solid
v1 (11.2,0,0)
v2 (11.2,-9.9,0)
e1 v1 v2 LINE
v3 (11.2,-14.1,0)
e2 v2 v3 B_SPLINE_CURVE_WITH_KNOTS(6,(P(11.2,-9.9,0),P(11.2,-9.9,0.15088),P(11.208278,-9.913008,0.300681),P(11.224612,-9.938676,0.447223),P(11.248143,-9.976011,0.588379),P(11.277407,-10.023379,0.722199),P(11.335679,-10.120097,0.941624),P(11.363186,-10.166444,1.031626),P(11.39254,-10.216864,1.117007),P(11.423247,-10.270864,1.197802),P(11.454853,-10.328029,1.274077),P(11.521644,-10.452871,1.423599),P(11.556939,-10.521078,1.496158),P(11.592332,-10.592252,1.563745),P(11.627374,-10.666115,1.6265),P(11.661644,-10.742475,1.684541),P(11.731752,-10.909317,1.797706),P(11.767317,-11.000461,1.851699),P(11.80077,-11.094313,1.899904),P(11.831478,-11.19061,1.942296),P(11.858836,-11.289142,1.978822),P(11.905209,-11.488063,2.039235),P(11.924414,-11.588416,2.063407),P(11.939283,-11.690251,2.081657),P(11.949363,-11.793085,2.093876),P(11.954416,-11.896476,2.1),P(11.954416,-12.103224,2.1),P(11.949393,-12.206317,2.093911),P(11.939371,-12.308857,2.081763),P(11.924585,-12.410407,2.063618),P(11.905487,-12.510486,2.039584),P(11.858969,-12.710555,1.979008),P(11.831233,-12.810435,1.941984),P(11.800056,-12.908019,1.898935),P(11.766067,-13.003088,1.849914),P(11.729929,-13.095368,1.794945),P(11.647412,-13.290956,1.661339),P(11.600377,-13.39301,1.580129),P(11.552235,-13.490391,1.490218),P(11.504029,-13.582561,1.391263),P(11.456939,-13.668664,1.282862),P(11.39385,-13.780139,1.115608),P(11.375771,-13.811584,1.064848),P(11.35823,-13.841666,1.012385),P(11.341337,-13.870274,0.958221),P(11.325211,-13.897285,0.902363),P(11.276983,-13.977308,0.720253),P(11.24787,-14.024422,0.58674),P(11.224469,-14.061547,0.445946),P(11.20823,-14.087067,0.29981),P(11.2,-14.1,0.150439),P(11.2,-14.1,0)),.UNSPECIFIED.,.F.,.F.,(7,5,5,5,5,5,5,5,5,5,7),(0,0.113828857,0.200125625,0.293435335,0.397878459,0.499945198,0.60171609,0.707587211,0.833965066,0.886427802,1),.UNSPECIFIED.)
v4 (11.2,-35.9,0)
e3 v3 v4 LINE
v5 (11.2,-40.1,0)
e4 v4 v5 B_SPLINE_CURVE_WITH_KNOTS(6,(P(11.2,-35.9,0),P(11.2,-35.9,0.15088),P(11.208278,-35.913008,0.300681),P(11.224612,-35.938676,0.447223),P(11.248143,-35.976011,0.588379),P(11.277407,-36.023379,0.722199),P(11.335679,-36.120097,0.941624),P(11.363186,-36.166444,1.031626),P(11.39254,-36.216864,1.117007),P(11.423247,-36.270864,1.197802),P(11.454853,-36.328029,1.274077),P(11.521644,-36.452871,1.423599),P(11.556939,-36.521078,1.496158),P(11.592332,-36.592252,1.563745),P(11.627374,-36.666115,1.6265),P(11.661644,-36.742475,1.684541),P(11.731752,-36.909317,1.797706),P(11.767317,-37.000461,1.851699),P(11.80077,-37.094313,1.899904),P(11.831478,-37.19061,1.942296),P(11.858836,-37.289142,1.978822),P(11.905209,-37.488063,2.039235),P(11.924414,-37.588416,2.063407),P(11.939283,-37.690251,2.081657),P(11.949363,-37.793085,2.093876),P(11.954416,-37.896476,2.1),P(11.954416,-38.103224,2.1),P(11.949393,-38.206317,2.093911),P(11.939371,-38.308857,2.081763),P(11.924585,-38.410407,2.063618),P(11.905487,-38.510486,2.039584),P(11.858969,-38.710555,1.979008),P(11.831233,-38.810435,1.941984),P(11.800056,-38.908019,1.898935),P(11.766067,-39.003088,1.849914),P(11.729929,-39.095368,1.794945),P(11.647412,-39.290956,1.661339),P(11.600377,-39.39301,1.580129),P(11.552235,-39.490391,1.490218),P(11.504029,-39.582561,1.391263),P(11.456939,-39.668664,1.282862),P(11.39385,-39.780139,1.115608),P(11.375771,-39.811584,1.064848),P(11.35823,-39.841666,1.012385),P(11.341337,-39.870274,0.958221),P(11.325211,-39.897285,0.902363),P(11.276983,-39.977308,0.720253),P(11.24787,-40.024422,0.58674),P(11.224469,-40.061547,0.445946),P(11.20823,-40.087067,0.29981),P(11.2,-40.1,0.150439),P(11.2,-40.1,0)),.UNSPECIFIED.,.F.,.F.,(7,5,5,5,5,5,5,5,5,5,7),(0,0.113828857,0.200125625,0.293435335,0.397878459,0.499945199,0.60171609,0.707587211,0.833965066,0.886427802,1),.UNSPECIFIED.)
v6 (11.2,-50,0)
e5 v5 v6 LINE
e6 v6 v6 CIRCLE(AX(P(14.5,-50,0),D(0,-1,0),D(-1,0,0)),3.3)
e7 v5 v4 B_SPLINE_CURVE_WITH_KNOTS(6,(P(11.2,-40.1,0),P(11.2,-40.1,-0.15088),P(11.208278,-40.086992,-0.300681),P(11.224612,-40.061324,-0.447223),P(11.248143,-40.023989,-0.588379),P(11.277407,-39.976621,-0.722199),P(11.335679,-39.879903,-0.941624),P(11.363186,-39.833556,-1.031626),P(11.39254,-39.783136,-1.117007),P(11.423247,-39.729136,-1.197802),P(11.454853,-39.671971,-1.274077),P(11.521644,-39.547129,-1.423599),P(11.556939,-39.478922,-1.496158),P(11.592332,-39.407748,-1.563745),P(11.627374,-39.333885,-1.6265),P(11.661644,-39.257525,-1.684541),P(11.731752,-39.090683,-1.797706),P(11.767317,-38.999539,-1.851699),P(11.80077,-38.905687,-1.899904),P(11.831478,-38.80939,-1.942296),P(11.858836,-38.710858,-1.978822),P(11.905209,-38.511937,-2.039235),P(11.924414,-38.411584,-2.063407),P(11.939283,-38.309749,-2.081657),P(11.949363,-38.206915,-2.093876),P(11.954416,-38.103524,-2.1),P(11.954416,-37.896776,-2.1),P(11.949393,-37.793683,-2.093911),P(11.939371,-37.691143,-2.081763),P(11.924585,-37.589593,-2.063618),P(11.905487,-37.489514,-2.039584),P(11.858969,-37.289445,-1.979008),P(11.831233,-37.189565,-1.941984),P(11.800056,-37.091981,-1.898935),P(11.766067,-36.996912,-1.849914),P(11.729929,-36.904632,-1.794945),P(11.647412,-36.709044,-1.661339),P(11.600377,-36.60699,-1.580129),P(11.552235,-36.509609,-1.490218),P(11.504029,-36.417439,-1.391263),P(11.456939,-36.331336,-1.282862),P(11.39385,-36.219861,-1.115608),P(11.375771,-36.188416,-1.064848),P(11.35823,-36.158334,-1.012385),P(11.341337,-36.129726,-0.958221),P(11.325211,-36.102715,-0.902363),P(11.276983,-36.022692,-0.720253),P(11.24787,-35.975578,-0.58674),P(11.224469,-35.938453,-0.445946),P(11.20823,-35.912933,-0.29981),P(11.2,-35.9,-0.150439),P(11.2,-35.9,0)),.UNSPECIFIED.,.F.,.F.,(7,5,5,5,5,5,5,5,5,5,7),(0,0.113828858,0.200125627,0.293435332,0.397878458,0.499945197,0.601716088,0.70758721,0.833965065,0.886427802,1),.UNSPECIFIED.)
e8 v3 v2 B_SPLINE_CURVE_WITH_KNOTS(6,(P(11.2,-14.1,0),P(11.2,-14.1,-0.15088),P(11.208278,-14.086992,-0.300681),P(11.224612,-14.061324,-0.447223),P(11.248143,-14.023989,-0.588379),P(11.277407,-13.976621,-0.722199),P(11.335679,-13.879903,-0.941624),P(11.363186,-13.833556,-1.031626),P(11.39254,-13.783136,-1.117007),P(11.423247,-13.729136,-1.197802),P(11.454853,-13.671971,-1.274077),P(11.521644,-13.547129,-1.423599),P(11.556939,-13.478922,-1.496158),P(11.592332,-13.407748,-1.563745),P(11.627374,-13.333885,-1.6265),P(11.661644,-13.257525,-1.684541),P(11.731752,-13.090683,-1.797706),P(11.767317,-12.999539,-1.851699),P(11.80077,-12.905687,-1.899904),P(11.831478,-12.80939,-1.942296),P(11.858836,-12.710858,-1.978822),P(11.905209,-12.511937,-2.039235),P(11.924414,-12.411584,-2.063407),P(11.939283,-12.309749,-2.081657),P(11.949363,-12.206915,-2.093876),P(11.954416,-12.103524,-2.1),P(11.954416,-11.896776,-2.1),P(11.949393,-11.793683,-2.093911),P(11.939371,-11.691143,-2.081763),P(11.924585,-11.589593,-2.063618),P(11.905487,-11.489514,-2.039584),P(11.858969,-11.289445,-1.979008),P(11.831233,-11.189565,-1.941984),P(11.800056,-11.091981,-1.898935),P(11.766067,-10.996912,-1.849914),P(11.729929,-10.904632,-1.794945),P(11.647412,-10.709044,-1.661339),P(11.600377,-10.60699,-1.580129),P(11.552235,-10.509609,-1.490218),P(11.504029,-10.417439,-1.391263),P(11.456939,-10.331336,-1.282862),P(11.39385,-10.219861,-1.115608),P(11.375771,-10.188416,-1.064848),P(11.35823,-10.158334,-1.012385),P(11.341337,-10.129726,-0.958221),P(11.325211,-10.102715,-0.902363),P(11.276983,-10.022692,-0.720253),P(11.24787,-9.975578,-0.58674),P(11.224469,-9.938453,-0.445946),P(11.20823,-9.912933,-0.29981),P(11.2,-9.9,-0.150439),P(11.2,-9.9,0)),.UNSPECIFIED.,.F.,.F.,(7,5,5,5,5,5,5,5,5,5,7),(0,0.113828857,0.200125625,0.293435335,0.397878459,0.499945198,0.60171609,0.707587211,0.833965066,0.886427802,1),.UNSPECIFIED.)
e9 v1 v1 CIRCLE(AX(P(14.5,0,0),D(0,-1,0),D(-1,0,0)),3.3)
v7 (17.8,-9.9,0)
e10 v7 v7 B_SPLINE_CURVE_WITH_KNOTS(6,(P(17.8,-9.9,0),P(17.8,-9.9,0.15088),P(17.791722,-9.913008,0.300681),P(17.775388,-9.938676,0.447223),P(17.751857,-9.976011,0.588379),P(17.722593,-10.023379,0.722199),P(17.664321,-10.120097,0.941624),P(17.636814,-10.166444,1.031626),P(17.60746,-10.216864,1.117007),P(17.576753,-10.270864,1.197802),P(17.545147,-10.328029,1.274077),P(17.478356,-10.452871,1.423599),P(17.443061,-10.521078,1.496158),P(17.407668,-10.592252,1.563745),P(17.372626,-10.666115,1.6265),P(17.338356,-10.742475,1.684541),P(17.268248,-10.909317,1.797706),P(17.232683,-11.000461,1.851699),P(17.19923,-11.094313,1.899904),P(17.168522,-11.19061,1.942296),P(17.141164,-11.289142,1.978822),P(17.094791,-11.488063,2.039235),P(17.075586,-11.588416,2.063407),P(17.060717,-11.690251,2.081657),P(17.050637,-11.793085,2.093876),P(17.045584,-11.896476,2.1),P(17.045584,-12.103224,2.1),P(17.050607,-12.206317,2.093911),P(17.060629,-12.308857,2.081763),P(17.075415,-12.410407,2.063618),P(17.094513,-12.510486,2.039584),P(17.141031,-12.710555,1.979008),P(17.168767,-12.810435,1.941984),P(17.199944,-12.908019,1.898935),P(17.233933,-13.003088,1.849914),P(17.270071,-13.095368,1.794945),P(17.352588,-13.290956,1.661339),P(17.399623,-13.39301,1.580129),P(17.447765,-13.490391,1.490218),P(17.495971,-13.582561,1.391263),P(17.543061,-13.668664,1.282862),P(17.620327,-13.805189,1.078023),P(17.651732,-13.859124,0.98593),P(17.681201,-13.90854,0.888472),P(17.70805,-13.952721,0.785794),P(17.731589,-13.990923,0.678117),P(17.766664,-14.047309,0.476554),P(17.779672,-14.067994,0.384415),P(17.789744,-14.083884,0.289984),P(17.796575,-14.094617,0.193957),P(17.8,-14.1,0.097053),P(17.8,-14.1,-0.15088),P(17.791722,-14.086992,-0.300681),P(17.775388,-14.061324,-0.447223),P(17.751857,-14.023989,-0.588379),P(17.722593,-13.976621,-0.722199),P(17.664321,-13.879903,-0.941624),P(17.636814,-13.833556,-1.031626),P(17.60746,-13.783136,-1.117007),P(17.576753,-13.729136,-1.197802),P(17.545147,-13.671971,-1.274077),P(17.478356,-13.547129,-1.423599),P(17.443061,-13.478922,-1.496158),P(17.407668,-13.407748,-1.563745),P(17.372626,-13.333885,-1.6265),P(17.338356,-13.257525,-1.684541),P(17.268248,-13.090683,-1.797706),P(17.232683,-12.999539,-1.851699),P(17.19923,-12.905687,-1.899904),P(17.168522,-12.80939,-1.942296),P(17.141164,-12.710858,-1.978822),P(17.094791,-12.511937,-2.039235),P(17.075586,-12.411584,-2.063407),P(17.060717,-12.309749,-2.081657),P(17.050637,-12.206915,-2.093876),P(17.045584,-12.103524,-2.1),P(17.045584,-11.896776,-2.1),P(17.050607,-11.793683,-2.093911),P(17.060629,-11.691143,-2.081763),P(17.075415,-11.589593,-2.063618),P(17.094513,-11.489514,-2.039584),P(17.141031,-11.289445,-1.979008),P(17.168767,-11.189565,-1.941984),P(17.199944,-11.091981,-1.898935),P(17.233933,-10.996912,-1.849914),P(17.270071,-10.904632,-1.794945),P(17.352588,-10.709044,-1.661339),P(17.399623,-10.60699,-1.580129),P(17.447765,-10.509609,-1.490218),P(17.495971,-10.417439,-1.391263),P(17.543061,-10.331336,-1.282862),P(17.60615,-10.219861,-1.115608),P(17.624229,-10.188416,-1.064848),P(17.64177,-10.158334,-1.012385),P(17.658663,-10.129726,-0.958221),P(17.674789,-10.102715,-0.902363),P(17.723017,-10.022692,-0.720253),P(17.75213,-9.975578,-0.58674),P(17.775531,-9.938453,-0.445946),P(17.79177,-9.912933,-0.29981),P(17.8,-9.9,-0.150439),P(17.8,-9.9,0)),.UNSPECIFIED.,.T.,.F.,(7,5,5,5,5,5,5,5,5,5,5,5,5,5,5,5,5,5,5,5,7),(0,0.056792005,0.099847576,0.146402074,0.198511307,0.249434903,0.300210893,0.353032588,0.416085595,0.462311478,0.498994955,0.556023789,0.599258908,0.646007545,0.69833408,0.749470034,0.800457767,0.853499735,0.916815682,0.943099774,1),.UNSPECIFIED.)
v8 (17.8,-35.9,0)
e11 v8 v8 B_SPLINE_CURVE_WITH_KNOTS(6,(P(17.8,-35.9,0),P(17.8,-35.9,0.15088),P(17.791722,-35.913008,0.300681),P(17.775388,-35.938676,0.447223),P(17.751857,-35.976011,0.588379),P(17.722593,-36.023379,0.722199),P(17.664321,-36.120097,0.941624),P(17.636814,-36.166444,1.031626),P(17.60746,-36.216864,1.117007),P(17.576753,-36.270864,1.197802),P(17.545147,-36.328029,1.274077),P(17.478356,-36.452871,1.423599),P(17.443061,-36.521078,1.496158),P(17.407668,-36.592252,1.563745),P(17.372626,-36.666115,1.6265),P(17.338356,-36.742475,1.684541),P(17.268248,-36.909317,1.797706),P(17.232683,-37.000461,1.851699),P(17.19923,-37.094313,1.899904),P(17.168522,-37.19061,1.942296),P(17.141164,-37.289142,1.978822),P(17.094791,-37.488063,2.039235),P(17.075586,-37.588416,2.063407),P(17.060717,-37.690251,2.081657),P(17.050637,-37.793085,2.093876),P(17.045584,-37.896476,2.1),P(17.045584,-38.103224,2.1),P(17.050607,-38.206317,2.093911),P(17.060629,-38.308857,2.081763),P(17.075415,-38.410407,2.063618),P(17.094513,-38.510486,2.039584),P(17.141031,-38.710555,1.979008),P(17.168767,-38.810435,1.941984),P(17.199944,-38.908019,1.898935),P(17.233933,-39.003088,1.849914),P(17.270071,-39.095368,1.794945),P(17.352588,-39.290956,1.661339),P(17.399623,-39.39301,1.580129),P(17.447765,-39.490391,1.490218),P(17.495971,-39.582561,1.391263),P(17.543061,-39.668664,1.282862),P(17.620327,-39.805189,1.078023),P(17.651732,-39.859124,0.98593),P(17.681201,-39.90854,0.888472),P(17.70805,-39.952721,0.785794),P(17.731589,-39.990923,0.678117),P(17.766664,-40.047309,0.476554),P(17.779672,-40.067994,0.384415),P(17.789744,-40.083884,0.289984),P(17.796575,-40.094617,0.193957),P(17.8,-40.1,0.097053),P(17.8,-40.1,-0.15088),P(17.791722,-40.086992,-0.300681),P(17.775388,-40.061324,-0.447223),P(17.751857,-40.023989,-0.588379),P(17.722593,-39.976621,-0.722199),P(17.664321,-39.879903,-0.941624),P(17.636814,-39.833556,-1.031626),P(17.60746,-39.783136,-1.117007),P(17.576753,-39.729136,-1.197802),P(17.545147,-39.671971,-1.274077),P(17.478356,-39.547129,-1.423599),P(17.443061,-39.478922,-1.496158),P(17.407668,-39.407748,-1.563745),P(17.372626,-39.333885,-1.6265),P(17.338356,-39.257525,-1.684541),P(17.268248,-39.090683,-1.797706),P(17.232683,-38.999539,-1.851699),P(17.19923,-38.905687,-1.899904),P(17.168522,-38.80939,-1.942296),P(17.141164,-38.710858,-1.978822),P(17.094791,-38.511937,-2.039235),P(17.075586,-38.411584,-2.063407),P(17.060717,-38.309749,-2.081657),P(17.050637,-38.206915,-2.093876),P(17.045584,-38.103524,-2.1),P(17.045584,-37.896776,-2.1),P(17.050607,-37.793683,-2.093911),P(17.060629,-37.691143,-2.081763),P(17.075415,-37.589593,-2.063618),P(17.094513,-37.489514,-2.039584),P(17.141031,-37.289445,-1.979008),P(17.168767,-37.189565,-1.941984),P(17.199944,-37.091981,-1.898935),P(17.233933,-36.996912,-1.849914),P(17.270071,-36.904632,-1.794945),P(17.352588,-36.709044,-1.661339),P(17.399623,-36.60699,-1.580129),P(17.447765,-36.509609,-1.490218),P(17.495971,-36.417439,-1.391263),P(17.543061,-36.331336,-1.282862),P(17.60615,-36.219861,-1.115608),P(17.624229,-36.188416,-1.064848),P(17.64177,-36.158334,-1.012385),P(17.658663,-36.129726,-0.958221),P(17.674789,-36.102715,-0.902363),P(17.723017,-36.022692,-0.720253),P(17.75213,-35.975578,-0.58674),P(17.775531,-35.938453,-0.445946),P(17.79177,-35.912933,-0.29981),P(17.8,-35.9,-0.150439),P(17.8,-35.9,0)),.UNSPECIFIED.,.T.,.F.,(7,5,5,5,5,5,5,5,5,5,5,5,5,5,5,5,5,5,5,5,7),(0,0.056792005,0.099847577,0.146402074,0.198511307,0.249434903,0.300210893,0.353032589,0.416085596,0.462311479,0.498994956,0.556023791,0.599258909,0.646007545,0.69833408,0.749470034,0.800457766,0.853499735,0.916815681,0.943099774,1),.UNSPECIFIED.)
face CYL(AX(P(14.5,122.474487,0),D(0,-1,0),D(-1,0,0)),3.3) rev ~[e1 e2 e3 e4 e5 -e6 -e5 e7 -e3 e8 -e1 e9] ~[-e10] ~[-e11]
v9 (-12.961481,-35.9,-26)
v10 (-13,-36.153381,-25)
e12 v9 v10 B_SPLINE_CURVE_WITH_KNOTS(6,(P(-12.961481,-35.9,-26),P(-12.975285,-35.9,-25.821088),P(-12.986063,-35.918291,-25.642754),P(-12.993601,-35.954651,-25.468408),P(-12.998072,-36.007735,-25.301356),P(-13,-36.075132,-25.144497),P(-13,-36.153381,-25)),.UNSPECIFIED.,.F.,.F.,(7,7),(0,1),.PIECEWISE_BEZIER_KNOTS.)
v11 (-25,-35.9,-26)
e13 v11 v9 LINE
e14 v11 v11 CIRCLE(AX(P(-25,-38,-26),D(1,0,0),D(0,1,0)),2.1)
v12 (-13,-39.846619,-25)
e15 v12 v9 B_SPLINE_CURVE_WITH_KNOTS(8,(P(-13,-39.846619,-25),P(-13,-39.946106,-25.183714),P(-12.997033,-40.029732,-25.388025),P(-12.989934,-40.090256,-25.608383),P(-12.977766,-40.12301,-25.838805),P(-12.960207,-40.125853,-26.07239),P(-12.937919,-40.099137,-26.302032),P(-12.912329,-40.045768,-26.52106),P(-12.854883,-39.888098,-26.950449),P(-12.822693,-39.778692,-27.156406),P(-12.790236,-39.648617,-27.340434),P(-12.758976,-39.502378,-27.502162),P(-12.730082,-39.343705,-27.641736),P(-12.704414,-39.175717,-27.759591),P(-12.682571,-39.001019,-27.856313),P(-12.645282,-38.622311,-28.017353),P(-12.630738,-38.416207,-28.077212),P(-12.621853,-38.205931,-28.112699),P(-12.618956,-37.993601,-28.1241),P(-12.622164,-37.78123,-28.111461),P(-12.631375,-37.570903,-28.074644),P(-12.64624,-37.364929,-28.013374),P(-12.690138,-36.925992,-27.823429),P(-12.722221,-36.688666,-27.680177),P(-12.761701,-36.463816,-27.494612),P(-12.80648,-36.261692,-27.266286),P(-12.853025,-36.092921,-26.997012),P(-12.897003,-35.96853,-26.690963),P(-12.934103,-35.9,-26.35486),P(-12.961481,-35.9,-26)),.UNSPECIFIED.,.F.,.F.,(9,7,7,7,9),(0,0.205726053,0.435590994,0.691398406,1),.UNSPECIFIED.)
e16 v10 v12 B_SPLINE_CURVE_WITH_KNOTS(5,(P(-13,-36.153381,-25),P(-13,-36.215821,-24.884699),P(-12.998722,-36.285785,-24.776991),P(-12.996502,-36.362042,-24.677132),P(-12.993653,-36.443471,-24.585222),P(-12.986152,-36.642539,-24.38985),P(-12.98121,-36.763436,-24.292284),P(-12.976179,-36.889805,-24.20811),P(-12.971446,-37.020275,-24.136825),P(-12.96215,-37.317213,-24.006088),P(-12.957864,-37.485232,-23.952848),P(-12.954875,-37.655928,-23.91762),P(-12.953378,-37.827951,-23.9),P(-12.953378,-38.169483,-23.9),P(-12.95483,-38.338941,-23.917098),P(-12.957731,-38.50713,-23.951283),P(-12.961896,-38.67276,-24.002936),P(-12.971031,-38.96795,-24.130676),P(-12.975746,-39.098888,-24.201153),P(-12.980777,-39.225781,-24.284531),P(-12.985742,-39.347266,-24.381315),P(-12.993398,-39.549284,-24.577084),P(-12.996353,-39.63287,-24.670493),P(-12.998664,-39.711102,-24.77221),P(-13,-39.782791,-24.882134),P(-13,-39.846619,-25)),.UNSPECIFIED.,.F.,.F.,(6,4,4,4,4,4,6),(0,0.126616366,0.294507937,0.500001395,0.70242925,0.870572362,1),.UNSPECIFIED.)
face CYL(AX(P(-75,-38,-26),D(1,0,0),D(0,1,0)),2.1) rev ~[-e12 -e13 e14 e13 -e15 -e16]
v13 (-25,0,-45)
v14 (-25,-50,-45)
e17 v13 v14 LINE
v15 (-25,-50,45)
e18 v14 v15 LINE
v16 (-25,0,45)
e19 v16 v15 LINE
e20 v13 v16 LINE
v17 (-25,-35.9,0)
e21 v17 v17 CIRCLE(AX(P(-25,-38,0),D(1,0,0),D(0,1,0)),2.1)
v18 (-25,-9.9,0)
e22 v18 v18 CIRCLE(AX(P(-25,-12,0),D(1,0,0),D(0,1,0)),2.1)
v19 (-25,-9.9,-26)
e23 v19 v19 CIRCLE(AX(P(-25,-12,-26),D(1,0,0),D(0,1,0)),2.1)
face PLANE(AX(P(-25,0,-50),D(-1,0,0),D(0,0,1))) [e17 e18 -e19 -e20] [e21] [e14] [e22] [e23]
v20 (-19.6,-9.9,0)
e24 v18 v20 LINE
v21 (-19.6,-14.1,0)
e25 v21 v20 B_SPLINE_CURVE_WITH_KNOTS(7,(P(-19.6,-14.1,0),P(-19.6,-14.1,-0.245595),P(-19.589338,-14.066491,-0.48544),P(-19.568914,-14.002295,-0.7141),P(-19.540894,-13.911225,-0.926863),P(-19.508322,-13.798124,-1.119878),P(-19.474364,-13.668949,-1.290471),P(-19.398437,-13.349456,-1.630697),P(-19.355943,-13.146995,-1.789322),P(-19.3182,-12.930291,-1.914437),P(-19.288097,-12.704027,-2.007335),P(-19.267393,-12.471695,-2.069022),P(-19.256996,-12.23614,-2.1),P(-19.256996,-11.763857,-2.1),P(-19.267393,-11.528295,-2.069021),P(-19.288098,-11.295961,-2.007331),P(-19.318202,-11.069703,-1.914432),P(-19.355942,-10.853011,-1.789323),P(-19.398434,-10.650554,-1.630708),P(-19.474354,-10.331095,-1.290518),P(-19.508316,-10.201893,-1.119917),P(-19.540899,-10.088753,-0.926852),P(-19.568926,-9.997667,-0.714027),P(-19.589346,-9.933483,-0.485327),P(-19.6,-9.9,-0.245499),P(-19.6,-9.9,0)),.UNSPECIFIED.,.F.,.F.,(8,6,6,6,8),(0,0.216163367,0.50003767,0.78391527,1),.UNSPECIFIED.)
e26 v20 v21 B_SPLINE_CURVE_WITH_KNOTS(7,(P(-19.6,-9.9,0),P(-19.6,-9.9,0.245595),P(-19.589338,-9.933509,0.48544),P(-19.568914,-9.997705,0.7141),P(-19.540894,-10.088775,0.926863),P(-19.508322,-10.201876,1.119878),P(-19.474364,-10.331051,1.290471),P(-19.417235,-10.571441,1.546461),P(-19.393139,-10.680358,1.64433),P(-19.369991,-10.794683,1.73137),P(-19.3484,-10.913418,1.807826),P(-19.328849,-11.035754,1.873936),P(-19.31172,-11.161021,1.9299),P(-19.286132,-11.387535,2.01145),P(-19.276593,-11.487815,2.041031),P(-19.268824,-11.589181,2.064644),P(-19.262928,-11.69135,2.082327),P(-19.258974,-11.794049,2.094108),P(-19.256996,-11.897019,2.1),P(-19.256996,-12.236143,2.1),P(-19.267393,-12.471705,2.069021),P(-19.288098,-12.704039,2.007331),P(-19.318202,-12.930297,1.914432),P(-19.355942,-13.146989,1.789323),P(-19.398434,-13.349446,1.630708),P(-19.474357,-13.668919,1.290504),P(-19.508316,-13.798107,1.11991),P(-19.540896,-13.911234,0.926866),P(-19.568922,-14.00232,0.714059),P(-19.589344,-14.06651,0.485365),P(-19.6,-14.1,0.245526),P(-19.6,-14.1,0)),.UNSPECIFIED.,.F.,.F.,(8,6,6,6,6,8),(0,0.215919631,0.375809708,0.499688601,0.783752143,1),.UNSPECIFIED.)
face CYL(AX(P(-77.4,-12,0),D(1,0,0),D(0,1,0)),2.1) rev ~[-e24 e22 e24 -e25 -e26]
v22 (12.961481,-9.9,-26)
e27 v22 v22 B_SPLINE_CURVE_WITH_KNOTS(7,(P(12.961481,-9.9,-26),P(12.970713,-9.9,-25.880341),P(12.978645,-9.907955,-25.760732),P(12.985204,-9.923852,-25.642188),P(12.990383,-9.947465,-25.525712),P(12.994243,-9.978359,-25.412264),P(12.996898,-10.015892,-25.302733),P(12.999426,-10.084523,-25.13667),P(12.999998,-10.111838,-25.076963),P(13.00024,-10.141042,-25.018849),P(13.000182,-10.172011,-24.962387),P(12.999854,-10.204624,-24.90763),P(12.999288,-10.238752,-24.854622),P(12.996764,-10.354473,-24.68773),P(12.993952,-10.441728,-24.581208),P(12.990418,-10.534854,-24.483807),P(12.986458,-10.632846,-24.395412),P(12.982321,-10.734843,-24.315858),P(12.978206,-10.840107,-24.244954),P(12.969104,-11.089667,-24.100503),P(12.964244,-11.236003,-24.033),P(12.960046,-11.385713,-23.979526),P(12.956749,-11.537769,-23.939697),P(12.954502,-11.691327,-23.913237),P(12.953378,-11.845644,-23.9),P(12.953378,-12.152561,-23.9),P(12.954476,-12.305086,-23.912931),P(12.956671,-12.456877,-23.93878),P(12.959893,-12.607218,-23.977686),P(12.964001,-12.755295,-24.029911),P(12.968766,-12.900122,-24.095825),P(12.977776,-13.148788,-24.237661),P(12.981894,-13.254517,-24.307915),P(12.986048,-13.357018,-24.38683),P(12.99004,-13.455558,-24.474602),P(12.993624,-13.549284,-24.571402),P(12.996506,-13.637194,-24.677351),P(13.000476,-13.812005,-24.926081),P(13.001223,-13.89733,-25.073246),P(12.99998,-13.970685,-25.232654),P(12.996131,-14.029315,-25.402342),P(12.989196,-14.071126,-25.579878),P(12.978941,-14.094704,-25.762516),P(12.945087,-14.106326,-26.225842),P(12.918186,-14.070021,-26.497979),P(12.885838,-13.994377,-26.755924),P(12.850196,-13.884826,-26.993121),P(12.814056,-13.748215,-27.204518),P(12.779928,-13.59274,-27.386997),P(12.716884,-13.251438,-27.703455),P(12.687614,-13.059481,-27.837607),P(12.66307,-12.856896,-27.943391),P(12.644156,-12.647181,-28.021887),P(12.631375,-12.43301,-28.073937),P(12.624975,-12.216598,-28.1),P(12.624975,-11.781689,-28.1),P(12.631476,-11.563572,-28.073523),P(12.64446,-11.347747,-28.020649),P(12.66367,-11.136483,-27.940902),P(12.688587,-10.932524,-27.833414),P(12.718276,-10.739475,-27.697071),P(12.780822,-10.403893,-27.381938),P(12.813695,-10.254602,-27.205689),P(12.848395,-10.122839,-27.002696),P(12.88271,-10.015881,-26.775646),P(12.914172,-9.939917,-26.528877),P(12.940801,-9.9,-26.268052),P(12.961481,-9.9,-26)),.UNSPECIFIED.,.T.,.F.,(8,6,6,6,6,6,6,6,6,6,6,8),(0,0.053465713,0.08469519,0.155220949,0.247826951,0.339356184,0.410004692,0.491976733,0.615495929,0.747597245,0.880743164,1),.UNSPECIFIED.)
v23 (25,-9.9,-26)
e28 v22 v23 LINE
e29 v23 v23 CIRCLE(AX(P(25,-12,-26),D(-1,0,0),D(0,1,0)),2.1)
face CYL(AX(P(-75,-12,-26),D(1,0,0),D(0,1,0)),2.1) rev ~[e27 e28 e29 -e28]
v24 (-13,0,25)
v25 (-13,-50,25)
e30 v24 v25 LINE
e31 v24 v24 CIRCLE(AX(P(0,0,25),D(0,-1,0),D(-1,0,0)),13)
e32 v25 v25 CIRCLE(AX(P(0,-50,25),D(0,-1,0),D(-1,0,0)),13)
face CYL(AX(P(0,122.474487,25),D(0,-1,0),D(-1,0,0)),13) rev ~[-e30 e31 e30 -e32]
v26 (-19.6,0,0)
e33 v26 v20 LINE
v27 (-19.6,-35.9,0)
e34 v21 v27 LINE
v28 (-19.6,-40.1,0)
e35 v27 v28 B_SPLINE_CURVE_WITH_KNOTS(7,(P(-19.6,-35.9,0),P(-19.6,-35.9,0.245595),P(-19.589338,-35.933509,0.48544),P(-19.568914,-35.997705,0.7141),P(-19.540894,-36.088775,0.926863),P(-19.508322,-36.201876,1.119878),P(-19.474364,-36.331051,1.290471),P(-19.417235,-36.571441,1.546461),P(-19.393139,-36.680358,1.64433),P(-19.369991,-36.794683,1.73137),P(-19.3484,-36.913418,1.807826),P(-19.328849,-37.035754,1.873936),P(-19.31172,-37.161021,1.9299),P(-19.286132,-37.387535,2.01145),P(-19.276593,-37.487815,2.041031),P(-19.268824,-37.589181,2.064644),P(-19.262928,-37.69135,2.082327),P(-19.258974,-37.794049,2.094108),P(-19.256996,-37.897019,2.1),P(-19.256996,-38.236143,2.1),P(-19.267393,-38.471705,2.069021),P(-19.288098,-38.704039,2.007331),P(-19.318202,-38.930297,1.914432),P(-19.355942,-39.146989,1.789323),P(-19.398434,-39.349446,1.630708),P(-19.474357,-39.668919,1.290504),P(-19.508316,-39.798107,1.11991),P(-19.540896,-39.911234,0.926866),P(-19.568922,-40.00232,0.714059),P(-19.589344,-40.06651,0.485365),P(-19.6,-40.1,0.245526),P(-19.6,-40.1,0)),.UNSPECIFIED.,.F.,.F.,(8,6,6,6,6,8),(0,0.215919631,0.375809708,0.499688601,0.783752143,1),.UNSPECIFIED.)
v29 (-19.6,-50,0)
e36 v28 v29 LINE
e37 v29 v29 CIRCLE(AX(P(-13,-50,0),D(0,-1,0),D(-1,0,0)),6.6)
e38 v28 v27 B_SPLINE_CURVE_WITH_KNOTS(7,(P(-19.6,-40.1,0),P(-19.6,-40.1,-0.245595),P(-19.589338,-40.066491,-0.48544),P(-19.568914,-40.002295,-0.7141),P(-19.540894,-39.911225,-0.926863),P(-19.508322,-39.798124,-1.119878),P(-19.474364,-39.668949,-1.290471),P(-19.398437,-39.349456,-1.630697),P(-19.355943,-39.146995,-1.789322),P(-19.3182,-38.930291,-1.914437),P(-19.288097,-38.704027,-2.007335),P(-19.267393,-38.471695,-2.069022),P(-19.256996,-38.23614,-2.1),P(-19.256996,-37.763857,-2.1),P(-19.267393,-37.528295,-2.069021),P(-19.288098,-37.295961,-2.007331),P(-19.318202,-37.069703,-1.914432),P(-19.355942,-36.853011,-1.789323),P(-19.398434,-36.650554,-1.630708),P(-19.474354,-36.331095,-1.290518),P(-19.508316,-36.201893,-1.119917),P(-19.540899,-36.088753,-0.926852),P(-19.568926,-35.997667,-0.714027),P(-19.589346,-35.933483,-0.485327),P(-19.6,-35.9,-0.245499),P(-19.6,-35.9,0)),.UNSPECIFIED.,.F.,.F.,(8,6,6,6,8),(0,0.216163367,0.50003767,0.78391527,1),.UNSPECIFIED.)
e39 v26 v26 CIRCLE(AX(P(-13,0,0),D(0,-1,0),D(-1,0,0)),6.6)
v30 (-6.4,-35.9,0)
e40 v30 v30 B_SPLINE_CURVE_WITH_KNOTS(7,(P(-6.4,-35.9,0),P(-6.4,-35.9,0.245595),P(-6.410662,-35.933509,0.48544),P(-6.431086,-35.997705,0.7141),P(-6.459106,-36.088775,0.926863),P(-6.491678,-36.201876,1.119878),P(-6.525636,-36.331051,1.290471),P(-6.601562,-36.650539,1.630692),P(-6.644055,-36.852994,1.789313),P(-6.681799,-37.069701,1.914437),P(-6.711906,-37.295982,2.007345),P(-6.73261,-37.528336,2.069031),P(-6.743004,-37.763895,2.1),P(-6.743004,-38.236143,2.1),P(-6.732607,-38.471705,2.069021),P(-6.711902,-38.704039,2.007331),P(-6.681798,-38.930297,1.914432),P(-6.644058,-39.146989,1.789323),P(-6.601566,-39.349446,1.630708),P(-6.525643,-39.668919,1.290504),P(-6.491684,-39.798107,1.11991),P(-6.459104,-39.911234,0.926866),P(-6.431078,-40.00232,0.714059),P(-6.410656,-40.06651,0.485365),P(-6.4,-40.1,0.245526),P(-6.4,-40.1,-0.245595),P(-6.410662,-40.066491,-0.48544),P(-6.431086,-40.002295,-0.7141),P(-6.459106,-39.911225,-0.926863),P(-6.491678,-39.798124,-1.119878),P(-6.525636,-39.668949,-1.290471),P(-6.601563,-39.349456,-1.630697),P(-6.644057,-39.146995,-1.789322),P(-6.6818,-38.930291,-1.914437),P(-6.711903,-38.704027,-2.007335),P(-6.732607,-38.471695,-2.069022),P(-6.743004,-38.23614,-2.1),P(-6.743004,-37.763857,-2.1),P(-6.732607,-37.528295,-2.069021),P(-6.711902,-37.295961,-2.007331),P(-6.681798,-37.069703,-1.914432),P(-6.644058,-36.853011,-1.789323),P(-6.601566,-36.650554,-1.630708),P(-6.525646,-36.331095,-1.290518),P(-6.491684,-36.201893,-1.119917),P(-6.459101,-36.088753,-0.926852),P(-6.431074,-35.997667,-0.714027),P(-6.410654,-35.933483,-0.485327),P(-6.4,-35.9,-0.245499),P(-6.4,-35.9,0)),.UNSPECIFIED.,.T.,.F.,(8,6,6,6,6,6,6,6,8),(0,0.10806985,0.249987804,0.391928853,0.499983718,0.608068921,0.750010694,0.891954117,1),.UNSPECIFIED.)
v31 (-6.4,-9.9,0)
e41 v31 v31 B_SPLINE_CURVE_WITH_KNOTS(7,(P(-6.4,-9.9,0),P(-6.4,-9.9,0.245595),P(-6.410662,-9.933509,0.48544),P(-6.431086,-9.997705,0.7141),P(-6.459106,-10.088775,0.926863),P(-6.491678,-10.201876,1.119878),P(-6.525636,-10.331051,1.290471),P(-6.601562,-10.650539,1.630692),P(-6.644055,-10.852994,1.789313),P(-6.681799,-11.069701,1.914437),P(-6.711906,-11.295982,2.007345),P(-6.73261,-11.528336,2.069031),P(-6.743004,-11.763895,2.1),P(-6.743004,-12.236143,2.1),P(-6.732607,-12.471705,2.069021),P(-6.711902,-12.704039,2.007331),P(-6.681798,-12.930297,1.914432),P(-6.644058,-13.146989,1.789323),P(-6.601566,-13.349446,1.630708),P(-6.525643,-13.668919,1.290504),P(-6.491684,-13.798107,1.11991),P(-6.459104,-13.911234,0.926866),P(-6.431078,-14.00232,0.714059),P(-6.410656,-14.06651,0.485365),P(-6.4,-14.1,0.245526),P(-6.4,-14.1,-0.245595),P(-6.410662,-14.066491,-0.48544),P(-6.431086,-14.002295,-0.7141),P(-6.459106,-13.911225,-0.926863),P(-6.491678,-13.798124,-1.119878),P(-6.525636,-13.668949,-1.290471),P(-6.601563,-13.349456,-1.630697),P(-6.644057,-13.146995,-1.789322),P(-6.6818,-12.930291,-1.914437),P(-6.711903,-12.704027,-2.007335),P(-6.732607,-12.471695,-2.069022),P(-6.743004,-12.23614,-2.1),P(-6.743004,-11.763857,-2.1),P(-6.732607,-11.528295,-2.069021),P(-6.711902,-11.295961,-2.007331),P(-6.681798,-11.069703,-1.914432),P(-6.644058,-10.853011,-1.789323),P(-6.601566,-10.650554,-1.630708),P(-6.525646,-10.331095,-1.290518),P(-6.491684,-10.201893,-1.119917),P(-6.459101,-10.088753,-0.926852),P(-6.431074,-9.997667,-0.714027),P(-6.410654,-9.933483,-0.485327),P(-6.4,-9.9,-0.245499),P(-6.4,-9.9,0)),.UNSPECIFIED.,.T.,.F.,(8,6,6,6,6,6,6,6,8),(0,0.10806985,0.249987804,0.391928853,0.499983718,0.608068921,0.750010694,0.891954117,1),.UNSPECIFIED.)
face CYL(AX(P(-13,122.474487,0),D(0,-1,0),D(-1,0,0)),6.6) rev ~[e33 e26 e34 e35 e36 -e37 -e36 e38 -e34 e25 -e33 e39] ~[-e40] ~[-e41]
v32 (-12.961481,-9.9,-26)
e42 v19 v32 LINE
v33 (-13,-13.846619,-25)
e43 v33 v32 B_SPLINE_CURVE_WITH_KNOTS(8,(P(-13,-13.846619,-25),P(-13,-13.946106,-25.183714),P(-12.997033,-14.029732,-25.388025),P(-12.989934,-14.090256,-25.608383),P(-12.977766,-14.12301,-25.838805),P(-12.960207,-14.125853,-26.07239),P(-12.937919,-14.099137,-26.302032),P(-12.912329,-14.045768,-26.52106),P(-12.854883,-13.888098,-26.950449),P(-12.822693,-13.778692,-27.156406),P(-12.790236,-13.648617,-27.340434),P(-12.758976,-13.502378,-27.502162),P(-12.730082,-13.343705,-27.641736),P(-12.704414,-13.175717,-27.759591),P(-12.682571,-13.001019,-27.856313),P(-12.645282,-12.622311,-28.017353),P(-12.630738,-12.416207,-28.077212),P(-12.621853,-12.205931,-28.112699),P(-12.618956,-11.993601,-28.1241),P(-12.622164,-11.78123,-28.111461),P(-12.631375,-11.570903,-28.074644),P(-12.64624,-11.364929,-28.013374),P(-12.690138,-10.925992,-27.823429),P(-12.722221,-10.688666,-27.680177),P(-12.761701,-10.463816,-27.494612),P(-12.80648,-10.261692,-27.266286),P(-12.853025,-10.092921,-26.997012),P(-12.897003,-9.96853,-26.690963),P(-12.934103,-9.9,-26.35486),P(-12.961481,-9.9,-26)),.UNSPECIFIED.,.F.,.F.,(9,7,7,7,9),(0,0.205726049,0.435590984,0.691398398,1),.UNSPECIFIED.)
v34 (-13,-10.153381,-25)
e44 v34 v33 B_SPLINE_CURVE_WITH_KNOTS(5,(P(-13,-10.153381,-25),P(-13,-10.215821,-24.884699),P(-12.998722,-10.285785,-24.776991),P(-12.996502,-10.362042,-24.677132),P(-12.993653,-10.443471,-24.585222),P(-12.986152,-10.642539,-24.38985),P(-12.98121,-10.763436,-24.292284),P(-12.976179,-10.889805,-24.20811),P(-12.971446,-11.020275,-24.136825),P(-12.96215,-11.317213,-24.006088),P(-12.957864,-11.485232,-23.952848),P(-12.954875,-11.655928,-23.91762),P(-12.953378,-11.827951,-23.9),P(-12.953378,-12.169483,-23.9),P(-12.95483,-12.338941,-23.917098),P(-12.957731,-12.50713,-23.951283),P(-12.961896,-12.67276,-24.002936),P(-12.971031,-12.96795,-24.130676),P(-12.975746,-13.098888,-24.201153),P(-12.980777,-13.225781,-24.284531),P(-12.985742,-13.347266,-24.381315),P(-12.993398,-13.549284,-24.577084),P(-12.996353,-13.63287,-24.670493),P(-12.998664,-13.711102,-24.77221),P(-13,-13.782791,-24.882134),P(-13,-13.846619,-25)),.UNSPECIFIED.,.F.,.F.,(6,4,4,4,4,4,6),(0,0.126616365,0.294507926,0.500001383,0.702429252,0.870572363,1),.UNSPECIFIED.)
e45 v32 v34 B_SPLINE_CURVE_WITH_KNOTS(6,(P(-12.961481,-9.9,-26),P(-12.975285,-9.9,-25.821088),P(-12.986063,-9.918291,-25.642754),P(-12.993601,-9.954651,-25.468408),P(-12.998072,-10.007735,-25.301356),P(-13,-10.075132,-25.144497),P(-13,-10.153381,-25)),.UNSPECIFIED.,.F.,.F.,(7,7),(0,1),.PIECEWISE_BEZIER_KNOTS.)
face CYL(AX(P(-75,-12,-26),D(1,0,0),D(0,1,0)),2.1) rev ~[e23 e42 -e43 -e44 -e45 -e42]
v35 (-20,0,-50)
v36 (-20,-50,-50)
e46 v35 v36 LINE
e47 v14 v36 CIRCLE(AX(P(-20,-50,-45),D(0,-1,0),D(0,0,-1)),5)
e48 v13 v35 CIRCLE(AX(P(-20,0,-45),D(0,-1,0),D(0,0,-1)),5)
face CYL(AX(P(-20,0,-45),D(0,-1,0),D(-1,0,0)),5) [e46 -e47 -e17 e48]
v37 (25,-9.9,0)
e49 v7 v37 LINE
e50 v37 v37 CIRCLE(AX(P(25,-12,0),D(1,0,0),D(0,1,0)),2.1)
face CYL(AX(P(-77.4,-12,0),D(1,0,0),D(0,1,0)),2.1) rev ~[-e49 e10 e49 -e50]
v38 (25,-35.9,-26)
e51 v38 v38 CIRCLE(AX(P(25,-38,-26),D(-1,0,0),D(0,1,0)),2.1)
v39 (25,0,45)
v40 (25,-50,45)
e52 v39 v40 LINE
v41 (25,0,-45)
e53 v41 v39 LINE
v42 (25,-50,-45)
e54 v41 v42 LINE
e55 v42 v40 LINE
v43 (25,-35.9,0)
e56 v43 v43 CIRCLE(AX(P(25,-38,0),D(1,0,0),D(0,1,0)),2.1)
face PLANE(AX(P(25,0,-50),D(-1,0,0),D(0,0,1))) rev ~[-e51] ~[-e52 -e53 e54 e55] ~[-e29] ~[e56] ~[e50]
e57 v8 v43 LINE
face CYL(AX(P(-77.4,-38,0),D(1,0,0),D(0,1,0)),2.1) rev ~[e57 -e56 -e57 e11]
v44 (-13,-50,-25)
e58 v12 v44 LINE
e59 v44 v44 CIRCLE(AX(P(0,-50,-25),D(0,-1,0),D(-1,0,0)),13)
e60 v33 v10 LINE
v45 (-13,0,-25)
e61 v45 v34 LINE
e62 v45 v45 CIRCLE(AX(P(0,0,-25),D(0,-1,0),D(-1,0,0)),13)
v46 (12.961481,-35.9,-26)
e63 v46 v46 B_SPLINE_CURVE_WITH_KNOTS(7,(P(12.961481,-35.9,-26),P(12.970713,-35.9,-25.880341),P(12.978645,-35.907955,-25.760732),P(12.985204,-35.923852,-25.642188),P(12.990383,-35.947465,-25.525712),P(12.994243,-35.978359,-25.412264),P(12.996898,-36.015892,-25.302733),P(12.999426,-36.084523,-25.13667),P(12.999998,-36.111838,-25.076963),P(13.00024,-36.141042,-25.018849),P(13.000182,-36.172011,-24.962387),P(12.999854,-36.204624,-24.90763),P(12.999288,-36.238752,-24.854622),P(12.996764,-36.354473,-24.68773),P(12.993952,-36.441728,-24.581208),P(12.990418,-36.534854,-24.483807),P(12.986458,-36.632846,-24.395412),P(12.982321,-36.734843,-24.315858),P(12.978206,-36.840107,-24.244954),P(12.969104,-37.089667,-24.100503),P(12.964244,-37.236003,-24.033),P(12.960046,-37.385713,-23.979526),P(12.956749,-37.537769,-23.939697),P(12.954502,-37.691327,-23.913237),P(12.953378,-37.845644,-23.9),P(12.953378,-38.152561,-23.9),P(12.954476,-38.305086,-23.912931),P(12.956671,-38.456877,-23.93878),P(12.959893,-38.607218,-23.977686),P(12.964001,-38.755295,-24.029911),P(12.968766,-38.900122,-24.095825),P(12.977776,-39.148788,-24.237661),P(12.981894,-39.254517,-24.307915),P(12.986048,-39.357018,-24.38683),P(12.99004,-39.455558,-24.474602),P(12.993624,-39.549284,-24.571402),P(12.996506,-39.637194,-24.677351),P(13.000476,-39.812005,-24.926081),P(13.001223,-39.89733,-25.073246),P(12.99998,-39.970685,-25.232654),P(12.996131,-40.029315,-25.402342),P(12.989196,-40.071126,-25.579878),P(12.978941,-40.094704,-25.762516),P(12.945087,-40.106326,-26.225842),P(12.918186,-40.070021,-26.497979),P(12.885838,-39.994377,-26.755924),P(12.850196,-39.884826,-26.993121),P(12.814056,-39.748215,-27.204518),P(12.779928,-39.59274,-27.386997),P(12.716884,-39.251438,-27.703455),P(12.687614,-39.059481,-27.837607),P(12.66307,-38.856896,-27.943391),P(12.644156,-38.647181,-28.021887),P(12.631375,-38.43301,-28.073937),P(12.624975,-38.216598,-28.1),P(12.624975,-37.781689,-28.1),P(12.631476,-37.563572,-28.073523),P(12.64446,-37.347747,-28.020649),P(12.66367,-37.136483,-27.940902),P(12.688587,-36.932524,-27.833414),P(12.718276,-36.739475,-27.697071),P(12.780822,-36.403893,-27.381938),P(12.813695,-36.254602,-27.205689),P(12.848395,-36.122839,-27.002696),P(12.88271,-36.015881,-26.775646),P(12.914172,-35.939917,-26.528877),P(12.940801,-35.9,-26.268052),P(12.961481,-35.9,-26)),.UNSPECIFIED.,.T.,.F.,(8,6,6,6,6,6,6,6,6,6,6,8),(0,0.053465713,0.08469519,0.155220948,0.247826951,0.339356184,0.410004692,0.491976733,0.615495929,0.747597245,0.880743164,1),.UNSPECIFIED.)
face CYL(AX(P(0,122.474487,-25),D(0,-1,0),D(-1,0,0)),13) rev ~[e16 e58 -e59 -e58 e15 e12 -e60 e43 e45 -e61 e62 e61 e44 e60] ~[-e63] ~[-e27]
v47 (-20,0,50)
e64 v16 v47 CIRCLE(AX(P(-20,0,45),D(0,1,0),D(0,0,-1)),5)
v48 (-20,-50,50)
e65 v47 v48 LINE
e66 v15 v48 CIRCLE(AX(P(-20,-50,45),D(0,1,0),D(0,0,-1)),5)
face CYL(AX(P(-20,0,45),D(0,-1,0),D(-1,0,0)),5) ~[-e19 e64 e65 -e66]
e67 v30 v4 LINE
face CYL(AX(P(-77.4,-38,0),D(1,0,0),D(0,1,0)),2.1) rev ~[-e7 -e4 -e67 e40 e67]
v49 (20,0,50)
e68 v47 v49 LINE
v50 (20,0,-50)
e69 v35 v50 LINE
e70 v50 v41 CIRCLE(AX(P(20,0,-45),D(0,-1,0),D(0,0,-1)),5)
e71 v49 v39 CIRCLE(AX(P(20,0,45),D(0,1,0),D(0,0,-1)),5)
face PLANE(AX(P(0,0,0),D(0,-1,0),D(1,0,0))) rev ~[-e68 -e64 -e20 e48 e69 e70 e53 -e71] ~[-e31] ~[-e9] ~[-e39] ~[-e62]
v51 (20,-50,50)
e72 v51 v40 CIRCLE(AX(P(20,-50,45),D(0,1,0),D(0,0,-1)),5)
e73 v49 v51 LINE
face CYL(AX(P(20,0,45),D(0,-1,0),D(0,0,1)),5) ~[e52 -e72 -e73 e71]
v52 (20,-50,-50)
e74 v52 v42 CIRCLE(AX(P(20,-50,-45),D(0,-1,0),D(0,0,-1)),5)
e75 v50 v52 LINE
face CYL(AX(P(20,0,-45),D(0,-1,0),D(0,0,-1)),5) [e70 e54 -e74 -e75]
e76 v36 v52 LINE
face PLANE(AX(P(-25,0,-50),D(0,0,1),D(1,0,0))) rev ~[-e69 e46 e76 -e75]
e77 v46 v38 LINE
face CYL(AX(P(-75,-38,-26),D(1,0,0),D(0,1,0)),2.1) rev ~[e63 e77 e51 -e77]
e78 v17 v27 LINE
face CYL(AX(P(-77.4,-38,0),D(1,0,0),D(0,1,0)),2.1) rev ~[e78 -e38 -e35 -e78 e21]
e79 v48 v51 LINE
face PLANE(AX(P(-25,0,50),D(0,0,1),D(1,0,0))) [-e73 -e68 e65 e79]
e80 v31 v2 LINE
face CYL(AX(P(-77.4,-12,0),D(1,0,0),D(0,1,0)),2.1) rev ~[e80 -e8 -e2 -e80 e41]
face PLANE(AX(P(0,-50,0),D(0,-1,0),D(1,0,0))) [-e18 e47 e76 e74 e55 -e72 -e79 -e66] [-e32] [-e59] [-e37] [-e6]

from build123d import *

# Parameters (mm, degrees)
F0_W     = 50
F0_H     = 100
F1_DEPTH = 50
F2_D     = 26
F3_D     = 6.6
F4_D     = 13.2
F5_R     = 5
F7_D     = 4.2
F7_DEPTH = 52.4
F7_TIP   = 1.2618073
F8_D     = 4.2
F8_DEPTH = 50
F8_TIP   = 1.2618073


with BuildPart() as f1:
    # F0 (on Front) → F1 (new body)
    with BuildSketch(Plane.XZ):
        Rectangle(F0_W, F0_H)
    extrude(amount=F1_DEPTH)

    # F2 (through all)
    with Locations(Plane(origin=(0, 0, 0), x_dir=(1, 0, 0), z_dir=(0, 1, 0))):
        with Locations((0, -25), (0, 25)):
            Hole(F2_D / 2)

    # F3 (through all)
    with Locations(Plane(origin=(0, 0, 0), x_dir=(1, 0, 0), z_dir=(0, 1, 0))):
        with Locations((14.5, 0)):
            Hole(F3_D / 2)

    # F4 (through all)
    with Locations(Plane(origin=(0, 0, 0), x_dir=(1, 0, 0), z_dir=(0, 1, 0))):
        with Locations((-13, 0)):
            Hole(F4_D / 2)

    # F5
    f5_edges = [f1.edges().sort_by_distance(p)[0] for p in [
        (-25, -25, 50),
        (25, -25, 50),
        (25, -25, -50),
        (-25, -25, -50),
    ]]
    fillet(f5_edges, radius=F5_R)

    # F7
    with Locations(Plane(origin=(-25, 0, 0), x_dir=(0, -1, 0), z_dir=(-1, 0, 0))):
        with Locations((12, 0), (38, 0)):
            Hole(F7_D / 2, depth=F7_DEPTH)
            with Locations((0, 0, -(F7_DEPTH + F7_TIP / 2))):  # 118° drill point
                Cone(0, F7_D / 2, F7_TIP, mode=Mode.SUBTRACT)

    # F8
    with Locations(Plane(origin=(-25, 0, 0), x_dir=(0, -1, 0), z_dir=(-1, 0, 0))):
        with Locations((12, -26), (38, -26)):
            Hole(F8_D / 2, depth=F8_DEPTH)
            with Locations((0, 0, -(F8_DEPTH + F8_TIP / 2))):  # 118° drill point
                Cone(0, F8_D / 2, F8_TIP, mode=Mode.SUBTRACT)


solid = f1.part
